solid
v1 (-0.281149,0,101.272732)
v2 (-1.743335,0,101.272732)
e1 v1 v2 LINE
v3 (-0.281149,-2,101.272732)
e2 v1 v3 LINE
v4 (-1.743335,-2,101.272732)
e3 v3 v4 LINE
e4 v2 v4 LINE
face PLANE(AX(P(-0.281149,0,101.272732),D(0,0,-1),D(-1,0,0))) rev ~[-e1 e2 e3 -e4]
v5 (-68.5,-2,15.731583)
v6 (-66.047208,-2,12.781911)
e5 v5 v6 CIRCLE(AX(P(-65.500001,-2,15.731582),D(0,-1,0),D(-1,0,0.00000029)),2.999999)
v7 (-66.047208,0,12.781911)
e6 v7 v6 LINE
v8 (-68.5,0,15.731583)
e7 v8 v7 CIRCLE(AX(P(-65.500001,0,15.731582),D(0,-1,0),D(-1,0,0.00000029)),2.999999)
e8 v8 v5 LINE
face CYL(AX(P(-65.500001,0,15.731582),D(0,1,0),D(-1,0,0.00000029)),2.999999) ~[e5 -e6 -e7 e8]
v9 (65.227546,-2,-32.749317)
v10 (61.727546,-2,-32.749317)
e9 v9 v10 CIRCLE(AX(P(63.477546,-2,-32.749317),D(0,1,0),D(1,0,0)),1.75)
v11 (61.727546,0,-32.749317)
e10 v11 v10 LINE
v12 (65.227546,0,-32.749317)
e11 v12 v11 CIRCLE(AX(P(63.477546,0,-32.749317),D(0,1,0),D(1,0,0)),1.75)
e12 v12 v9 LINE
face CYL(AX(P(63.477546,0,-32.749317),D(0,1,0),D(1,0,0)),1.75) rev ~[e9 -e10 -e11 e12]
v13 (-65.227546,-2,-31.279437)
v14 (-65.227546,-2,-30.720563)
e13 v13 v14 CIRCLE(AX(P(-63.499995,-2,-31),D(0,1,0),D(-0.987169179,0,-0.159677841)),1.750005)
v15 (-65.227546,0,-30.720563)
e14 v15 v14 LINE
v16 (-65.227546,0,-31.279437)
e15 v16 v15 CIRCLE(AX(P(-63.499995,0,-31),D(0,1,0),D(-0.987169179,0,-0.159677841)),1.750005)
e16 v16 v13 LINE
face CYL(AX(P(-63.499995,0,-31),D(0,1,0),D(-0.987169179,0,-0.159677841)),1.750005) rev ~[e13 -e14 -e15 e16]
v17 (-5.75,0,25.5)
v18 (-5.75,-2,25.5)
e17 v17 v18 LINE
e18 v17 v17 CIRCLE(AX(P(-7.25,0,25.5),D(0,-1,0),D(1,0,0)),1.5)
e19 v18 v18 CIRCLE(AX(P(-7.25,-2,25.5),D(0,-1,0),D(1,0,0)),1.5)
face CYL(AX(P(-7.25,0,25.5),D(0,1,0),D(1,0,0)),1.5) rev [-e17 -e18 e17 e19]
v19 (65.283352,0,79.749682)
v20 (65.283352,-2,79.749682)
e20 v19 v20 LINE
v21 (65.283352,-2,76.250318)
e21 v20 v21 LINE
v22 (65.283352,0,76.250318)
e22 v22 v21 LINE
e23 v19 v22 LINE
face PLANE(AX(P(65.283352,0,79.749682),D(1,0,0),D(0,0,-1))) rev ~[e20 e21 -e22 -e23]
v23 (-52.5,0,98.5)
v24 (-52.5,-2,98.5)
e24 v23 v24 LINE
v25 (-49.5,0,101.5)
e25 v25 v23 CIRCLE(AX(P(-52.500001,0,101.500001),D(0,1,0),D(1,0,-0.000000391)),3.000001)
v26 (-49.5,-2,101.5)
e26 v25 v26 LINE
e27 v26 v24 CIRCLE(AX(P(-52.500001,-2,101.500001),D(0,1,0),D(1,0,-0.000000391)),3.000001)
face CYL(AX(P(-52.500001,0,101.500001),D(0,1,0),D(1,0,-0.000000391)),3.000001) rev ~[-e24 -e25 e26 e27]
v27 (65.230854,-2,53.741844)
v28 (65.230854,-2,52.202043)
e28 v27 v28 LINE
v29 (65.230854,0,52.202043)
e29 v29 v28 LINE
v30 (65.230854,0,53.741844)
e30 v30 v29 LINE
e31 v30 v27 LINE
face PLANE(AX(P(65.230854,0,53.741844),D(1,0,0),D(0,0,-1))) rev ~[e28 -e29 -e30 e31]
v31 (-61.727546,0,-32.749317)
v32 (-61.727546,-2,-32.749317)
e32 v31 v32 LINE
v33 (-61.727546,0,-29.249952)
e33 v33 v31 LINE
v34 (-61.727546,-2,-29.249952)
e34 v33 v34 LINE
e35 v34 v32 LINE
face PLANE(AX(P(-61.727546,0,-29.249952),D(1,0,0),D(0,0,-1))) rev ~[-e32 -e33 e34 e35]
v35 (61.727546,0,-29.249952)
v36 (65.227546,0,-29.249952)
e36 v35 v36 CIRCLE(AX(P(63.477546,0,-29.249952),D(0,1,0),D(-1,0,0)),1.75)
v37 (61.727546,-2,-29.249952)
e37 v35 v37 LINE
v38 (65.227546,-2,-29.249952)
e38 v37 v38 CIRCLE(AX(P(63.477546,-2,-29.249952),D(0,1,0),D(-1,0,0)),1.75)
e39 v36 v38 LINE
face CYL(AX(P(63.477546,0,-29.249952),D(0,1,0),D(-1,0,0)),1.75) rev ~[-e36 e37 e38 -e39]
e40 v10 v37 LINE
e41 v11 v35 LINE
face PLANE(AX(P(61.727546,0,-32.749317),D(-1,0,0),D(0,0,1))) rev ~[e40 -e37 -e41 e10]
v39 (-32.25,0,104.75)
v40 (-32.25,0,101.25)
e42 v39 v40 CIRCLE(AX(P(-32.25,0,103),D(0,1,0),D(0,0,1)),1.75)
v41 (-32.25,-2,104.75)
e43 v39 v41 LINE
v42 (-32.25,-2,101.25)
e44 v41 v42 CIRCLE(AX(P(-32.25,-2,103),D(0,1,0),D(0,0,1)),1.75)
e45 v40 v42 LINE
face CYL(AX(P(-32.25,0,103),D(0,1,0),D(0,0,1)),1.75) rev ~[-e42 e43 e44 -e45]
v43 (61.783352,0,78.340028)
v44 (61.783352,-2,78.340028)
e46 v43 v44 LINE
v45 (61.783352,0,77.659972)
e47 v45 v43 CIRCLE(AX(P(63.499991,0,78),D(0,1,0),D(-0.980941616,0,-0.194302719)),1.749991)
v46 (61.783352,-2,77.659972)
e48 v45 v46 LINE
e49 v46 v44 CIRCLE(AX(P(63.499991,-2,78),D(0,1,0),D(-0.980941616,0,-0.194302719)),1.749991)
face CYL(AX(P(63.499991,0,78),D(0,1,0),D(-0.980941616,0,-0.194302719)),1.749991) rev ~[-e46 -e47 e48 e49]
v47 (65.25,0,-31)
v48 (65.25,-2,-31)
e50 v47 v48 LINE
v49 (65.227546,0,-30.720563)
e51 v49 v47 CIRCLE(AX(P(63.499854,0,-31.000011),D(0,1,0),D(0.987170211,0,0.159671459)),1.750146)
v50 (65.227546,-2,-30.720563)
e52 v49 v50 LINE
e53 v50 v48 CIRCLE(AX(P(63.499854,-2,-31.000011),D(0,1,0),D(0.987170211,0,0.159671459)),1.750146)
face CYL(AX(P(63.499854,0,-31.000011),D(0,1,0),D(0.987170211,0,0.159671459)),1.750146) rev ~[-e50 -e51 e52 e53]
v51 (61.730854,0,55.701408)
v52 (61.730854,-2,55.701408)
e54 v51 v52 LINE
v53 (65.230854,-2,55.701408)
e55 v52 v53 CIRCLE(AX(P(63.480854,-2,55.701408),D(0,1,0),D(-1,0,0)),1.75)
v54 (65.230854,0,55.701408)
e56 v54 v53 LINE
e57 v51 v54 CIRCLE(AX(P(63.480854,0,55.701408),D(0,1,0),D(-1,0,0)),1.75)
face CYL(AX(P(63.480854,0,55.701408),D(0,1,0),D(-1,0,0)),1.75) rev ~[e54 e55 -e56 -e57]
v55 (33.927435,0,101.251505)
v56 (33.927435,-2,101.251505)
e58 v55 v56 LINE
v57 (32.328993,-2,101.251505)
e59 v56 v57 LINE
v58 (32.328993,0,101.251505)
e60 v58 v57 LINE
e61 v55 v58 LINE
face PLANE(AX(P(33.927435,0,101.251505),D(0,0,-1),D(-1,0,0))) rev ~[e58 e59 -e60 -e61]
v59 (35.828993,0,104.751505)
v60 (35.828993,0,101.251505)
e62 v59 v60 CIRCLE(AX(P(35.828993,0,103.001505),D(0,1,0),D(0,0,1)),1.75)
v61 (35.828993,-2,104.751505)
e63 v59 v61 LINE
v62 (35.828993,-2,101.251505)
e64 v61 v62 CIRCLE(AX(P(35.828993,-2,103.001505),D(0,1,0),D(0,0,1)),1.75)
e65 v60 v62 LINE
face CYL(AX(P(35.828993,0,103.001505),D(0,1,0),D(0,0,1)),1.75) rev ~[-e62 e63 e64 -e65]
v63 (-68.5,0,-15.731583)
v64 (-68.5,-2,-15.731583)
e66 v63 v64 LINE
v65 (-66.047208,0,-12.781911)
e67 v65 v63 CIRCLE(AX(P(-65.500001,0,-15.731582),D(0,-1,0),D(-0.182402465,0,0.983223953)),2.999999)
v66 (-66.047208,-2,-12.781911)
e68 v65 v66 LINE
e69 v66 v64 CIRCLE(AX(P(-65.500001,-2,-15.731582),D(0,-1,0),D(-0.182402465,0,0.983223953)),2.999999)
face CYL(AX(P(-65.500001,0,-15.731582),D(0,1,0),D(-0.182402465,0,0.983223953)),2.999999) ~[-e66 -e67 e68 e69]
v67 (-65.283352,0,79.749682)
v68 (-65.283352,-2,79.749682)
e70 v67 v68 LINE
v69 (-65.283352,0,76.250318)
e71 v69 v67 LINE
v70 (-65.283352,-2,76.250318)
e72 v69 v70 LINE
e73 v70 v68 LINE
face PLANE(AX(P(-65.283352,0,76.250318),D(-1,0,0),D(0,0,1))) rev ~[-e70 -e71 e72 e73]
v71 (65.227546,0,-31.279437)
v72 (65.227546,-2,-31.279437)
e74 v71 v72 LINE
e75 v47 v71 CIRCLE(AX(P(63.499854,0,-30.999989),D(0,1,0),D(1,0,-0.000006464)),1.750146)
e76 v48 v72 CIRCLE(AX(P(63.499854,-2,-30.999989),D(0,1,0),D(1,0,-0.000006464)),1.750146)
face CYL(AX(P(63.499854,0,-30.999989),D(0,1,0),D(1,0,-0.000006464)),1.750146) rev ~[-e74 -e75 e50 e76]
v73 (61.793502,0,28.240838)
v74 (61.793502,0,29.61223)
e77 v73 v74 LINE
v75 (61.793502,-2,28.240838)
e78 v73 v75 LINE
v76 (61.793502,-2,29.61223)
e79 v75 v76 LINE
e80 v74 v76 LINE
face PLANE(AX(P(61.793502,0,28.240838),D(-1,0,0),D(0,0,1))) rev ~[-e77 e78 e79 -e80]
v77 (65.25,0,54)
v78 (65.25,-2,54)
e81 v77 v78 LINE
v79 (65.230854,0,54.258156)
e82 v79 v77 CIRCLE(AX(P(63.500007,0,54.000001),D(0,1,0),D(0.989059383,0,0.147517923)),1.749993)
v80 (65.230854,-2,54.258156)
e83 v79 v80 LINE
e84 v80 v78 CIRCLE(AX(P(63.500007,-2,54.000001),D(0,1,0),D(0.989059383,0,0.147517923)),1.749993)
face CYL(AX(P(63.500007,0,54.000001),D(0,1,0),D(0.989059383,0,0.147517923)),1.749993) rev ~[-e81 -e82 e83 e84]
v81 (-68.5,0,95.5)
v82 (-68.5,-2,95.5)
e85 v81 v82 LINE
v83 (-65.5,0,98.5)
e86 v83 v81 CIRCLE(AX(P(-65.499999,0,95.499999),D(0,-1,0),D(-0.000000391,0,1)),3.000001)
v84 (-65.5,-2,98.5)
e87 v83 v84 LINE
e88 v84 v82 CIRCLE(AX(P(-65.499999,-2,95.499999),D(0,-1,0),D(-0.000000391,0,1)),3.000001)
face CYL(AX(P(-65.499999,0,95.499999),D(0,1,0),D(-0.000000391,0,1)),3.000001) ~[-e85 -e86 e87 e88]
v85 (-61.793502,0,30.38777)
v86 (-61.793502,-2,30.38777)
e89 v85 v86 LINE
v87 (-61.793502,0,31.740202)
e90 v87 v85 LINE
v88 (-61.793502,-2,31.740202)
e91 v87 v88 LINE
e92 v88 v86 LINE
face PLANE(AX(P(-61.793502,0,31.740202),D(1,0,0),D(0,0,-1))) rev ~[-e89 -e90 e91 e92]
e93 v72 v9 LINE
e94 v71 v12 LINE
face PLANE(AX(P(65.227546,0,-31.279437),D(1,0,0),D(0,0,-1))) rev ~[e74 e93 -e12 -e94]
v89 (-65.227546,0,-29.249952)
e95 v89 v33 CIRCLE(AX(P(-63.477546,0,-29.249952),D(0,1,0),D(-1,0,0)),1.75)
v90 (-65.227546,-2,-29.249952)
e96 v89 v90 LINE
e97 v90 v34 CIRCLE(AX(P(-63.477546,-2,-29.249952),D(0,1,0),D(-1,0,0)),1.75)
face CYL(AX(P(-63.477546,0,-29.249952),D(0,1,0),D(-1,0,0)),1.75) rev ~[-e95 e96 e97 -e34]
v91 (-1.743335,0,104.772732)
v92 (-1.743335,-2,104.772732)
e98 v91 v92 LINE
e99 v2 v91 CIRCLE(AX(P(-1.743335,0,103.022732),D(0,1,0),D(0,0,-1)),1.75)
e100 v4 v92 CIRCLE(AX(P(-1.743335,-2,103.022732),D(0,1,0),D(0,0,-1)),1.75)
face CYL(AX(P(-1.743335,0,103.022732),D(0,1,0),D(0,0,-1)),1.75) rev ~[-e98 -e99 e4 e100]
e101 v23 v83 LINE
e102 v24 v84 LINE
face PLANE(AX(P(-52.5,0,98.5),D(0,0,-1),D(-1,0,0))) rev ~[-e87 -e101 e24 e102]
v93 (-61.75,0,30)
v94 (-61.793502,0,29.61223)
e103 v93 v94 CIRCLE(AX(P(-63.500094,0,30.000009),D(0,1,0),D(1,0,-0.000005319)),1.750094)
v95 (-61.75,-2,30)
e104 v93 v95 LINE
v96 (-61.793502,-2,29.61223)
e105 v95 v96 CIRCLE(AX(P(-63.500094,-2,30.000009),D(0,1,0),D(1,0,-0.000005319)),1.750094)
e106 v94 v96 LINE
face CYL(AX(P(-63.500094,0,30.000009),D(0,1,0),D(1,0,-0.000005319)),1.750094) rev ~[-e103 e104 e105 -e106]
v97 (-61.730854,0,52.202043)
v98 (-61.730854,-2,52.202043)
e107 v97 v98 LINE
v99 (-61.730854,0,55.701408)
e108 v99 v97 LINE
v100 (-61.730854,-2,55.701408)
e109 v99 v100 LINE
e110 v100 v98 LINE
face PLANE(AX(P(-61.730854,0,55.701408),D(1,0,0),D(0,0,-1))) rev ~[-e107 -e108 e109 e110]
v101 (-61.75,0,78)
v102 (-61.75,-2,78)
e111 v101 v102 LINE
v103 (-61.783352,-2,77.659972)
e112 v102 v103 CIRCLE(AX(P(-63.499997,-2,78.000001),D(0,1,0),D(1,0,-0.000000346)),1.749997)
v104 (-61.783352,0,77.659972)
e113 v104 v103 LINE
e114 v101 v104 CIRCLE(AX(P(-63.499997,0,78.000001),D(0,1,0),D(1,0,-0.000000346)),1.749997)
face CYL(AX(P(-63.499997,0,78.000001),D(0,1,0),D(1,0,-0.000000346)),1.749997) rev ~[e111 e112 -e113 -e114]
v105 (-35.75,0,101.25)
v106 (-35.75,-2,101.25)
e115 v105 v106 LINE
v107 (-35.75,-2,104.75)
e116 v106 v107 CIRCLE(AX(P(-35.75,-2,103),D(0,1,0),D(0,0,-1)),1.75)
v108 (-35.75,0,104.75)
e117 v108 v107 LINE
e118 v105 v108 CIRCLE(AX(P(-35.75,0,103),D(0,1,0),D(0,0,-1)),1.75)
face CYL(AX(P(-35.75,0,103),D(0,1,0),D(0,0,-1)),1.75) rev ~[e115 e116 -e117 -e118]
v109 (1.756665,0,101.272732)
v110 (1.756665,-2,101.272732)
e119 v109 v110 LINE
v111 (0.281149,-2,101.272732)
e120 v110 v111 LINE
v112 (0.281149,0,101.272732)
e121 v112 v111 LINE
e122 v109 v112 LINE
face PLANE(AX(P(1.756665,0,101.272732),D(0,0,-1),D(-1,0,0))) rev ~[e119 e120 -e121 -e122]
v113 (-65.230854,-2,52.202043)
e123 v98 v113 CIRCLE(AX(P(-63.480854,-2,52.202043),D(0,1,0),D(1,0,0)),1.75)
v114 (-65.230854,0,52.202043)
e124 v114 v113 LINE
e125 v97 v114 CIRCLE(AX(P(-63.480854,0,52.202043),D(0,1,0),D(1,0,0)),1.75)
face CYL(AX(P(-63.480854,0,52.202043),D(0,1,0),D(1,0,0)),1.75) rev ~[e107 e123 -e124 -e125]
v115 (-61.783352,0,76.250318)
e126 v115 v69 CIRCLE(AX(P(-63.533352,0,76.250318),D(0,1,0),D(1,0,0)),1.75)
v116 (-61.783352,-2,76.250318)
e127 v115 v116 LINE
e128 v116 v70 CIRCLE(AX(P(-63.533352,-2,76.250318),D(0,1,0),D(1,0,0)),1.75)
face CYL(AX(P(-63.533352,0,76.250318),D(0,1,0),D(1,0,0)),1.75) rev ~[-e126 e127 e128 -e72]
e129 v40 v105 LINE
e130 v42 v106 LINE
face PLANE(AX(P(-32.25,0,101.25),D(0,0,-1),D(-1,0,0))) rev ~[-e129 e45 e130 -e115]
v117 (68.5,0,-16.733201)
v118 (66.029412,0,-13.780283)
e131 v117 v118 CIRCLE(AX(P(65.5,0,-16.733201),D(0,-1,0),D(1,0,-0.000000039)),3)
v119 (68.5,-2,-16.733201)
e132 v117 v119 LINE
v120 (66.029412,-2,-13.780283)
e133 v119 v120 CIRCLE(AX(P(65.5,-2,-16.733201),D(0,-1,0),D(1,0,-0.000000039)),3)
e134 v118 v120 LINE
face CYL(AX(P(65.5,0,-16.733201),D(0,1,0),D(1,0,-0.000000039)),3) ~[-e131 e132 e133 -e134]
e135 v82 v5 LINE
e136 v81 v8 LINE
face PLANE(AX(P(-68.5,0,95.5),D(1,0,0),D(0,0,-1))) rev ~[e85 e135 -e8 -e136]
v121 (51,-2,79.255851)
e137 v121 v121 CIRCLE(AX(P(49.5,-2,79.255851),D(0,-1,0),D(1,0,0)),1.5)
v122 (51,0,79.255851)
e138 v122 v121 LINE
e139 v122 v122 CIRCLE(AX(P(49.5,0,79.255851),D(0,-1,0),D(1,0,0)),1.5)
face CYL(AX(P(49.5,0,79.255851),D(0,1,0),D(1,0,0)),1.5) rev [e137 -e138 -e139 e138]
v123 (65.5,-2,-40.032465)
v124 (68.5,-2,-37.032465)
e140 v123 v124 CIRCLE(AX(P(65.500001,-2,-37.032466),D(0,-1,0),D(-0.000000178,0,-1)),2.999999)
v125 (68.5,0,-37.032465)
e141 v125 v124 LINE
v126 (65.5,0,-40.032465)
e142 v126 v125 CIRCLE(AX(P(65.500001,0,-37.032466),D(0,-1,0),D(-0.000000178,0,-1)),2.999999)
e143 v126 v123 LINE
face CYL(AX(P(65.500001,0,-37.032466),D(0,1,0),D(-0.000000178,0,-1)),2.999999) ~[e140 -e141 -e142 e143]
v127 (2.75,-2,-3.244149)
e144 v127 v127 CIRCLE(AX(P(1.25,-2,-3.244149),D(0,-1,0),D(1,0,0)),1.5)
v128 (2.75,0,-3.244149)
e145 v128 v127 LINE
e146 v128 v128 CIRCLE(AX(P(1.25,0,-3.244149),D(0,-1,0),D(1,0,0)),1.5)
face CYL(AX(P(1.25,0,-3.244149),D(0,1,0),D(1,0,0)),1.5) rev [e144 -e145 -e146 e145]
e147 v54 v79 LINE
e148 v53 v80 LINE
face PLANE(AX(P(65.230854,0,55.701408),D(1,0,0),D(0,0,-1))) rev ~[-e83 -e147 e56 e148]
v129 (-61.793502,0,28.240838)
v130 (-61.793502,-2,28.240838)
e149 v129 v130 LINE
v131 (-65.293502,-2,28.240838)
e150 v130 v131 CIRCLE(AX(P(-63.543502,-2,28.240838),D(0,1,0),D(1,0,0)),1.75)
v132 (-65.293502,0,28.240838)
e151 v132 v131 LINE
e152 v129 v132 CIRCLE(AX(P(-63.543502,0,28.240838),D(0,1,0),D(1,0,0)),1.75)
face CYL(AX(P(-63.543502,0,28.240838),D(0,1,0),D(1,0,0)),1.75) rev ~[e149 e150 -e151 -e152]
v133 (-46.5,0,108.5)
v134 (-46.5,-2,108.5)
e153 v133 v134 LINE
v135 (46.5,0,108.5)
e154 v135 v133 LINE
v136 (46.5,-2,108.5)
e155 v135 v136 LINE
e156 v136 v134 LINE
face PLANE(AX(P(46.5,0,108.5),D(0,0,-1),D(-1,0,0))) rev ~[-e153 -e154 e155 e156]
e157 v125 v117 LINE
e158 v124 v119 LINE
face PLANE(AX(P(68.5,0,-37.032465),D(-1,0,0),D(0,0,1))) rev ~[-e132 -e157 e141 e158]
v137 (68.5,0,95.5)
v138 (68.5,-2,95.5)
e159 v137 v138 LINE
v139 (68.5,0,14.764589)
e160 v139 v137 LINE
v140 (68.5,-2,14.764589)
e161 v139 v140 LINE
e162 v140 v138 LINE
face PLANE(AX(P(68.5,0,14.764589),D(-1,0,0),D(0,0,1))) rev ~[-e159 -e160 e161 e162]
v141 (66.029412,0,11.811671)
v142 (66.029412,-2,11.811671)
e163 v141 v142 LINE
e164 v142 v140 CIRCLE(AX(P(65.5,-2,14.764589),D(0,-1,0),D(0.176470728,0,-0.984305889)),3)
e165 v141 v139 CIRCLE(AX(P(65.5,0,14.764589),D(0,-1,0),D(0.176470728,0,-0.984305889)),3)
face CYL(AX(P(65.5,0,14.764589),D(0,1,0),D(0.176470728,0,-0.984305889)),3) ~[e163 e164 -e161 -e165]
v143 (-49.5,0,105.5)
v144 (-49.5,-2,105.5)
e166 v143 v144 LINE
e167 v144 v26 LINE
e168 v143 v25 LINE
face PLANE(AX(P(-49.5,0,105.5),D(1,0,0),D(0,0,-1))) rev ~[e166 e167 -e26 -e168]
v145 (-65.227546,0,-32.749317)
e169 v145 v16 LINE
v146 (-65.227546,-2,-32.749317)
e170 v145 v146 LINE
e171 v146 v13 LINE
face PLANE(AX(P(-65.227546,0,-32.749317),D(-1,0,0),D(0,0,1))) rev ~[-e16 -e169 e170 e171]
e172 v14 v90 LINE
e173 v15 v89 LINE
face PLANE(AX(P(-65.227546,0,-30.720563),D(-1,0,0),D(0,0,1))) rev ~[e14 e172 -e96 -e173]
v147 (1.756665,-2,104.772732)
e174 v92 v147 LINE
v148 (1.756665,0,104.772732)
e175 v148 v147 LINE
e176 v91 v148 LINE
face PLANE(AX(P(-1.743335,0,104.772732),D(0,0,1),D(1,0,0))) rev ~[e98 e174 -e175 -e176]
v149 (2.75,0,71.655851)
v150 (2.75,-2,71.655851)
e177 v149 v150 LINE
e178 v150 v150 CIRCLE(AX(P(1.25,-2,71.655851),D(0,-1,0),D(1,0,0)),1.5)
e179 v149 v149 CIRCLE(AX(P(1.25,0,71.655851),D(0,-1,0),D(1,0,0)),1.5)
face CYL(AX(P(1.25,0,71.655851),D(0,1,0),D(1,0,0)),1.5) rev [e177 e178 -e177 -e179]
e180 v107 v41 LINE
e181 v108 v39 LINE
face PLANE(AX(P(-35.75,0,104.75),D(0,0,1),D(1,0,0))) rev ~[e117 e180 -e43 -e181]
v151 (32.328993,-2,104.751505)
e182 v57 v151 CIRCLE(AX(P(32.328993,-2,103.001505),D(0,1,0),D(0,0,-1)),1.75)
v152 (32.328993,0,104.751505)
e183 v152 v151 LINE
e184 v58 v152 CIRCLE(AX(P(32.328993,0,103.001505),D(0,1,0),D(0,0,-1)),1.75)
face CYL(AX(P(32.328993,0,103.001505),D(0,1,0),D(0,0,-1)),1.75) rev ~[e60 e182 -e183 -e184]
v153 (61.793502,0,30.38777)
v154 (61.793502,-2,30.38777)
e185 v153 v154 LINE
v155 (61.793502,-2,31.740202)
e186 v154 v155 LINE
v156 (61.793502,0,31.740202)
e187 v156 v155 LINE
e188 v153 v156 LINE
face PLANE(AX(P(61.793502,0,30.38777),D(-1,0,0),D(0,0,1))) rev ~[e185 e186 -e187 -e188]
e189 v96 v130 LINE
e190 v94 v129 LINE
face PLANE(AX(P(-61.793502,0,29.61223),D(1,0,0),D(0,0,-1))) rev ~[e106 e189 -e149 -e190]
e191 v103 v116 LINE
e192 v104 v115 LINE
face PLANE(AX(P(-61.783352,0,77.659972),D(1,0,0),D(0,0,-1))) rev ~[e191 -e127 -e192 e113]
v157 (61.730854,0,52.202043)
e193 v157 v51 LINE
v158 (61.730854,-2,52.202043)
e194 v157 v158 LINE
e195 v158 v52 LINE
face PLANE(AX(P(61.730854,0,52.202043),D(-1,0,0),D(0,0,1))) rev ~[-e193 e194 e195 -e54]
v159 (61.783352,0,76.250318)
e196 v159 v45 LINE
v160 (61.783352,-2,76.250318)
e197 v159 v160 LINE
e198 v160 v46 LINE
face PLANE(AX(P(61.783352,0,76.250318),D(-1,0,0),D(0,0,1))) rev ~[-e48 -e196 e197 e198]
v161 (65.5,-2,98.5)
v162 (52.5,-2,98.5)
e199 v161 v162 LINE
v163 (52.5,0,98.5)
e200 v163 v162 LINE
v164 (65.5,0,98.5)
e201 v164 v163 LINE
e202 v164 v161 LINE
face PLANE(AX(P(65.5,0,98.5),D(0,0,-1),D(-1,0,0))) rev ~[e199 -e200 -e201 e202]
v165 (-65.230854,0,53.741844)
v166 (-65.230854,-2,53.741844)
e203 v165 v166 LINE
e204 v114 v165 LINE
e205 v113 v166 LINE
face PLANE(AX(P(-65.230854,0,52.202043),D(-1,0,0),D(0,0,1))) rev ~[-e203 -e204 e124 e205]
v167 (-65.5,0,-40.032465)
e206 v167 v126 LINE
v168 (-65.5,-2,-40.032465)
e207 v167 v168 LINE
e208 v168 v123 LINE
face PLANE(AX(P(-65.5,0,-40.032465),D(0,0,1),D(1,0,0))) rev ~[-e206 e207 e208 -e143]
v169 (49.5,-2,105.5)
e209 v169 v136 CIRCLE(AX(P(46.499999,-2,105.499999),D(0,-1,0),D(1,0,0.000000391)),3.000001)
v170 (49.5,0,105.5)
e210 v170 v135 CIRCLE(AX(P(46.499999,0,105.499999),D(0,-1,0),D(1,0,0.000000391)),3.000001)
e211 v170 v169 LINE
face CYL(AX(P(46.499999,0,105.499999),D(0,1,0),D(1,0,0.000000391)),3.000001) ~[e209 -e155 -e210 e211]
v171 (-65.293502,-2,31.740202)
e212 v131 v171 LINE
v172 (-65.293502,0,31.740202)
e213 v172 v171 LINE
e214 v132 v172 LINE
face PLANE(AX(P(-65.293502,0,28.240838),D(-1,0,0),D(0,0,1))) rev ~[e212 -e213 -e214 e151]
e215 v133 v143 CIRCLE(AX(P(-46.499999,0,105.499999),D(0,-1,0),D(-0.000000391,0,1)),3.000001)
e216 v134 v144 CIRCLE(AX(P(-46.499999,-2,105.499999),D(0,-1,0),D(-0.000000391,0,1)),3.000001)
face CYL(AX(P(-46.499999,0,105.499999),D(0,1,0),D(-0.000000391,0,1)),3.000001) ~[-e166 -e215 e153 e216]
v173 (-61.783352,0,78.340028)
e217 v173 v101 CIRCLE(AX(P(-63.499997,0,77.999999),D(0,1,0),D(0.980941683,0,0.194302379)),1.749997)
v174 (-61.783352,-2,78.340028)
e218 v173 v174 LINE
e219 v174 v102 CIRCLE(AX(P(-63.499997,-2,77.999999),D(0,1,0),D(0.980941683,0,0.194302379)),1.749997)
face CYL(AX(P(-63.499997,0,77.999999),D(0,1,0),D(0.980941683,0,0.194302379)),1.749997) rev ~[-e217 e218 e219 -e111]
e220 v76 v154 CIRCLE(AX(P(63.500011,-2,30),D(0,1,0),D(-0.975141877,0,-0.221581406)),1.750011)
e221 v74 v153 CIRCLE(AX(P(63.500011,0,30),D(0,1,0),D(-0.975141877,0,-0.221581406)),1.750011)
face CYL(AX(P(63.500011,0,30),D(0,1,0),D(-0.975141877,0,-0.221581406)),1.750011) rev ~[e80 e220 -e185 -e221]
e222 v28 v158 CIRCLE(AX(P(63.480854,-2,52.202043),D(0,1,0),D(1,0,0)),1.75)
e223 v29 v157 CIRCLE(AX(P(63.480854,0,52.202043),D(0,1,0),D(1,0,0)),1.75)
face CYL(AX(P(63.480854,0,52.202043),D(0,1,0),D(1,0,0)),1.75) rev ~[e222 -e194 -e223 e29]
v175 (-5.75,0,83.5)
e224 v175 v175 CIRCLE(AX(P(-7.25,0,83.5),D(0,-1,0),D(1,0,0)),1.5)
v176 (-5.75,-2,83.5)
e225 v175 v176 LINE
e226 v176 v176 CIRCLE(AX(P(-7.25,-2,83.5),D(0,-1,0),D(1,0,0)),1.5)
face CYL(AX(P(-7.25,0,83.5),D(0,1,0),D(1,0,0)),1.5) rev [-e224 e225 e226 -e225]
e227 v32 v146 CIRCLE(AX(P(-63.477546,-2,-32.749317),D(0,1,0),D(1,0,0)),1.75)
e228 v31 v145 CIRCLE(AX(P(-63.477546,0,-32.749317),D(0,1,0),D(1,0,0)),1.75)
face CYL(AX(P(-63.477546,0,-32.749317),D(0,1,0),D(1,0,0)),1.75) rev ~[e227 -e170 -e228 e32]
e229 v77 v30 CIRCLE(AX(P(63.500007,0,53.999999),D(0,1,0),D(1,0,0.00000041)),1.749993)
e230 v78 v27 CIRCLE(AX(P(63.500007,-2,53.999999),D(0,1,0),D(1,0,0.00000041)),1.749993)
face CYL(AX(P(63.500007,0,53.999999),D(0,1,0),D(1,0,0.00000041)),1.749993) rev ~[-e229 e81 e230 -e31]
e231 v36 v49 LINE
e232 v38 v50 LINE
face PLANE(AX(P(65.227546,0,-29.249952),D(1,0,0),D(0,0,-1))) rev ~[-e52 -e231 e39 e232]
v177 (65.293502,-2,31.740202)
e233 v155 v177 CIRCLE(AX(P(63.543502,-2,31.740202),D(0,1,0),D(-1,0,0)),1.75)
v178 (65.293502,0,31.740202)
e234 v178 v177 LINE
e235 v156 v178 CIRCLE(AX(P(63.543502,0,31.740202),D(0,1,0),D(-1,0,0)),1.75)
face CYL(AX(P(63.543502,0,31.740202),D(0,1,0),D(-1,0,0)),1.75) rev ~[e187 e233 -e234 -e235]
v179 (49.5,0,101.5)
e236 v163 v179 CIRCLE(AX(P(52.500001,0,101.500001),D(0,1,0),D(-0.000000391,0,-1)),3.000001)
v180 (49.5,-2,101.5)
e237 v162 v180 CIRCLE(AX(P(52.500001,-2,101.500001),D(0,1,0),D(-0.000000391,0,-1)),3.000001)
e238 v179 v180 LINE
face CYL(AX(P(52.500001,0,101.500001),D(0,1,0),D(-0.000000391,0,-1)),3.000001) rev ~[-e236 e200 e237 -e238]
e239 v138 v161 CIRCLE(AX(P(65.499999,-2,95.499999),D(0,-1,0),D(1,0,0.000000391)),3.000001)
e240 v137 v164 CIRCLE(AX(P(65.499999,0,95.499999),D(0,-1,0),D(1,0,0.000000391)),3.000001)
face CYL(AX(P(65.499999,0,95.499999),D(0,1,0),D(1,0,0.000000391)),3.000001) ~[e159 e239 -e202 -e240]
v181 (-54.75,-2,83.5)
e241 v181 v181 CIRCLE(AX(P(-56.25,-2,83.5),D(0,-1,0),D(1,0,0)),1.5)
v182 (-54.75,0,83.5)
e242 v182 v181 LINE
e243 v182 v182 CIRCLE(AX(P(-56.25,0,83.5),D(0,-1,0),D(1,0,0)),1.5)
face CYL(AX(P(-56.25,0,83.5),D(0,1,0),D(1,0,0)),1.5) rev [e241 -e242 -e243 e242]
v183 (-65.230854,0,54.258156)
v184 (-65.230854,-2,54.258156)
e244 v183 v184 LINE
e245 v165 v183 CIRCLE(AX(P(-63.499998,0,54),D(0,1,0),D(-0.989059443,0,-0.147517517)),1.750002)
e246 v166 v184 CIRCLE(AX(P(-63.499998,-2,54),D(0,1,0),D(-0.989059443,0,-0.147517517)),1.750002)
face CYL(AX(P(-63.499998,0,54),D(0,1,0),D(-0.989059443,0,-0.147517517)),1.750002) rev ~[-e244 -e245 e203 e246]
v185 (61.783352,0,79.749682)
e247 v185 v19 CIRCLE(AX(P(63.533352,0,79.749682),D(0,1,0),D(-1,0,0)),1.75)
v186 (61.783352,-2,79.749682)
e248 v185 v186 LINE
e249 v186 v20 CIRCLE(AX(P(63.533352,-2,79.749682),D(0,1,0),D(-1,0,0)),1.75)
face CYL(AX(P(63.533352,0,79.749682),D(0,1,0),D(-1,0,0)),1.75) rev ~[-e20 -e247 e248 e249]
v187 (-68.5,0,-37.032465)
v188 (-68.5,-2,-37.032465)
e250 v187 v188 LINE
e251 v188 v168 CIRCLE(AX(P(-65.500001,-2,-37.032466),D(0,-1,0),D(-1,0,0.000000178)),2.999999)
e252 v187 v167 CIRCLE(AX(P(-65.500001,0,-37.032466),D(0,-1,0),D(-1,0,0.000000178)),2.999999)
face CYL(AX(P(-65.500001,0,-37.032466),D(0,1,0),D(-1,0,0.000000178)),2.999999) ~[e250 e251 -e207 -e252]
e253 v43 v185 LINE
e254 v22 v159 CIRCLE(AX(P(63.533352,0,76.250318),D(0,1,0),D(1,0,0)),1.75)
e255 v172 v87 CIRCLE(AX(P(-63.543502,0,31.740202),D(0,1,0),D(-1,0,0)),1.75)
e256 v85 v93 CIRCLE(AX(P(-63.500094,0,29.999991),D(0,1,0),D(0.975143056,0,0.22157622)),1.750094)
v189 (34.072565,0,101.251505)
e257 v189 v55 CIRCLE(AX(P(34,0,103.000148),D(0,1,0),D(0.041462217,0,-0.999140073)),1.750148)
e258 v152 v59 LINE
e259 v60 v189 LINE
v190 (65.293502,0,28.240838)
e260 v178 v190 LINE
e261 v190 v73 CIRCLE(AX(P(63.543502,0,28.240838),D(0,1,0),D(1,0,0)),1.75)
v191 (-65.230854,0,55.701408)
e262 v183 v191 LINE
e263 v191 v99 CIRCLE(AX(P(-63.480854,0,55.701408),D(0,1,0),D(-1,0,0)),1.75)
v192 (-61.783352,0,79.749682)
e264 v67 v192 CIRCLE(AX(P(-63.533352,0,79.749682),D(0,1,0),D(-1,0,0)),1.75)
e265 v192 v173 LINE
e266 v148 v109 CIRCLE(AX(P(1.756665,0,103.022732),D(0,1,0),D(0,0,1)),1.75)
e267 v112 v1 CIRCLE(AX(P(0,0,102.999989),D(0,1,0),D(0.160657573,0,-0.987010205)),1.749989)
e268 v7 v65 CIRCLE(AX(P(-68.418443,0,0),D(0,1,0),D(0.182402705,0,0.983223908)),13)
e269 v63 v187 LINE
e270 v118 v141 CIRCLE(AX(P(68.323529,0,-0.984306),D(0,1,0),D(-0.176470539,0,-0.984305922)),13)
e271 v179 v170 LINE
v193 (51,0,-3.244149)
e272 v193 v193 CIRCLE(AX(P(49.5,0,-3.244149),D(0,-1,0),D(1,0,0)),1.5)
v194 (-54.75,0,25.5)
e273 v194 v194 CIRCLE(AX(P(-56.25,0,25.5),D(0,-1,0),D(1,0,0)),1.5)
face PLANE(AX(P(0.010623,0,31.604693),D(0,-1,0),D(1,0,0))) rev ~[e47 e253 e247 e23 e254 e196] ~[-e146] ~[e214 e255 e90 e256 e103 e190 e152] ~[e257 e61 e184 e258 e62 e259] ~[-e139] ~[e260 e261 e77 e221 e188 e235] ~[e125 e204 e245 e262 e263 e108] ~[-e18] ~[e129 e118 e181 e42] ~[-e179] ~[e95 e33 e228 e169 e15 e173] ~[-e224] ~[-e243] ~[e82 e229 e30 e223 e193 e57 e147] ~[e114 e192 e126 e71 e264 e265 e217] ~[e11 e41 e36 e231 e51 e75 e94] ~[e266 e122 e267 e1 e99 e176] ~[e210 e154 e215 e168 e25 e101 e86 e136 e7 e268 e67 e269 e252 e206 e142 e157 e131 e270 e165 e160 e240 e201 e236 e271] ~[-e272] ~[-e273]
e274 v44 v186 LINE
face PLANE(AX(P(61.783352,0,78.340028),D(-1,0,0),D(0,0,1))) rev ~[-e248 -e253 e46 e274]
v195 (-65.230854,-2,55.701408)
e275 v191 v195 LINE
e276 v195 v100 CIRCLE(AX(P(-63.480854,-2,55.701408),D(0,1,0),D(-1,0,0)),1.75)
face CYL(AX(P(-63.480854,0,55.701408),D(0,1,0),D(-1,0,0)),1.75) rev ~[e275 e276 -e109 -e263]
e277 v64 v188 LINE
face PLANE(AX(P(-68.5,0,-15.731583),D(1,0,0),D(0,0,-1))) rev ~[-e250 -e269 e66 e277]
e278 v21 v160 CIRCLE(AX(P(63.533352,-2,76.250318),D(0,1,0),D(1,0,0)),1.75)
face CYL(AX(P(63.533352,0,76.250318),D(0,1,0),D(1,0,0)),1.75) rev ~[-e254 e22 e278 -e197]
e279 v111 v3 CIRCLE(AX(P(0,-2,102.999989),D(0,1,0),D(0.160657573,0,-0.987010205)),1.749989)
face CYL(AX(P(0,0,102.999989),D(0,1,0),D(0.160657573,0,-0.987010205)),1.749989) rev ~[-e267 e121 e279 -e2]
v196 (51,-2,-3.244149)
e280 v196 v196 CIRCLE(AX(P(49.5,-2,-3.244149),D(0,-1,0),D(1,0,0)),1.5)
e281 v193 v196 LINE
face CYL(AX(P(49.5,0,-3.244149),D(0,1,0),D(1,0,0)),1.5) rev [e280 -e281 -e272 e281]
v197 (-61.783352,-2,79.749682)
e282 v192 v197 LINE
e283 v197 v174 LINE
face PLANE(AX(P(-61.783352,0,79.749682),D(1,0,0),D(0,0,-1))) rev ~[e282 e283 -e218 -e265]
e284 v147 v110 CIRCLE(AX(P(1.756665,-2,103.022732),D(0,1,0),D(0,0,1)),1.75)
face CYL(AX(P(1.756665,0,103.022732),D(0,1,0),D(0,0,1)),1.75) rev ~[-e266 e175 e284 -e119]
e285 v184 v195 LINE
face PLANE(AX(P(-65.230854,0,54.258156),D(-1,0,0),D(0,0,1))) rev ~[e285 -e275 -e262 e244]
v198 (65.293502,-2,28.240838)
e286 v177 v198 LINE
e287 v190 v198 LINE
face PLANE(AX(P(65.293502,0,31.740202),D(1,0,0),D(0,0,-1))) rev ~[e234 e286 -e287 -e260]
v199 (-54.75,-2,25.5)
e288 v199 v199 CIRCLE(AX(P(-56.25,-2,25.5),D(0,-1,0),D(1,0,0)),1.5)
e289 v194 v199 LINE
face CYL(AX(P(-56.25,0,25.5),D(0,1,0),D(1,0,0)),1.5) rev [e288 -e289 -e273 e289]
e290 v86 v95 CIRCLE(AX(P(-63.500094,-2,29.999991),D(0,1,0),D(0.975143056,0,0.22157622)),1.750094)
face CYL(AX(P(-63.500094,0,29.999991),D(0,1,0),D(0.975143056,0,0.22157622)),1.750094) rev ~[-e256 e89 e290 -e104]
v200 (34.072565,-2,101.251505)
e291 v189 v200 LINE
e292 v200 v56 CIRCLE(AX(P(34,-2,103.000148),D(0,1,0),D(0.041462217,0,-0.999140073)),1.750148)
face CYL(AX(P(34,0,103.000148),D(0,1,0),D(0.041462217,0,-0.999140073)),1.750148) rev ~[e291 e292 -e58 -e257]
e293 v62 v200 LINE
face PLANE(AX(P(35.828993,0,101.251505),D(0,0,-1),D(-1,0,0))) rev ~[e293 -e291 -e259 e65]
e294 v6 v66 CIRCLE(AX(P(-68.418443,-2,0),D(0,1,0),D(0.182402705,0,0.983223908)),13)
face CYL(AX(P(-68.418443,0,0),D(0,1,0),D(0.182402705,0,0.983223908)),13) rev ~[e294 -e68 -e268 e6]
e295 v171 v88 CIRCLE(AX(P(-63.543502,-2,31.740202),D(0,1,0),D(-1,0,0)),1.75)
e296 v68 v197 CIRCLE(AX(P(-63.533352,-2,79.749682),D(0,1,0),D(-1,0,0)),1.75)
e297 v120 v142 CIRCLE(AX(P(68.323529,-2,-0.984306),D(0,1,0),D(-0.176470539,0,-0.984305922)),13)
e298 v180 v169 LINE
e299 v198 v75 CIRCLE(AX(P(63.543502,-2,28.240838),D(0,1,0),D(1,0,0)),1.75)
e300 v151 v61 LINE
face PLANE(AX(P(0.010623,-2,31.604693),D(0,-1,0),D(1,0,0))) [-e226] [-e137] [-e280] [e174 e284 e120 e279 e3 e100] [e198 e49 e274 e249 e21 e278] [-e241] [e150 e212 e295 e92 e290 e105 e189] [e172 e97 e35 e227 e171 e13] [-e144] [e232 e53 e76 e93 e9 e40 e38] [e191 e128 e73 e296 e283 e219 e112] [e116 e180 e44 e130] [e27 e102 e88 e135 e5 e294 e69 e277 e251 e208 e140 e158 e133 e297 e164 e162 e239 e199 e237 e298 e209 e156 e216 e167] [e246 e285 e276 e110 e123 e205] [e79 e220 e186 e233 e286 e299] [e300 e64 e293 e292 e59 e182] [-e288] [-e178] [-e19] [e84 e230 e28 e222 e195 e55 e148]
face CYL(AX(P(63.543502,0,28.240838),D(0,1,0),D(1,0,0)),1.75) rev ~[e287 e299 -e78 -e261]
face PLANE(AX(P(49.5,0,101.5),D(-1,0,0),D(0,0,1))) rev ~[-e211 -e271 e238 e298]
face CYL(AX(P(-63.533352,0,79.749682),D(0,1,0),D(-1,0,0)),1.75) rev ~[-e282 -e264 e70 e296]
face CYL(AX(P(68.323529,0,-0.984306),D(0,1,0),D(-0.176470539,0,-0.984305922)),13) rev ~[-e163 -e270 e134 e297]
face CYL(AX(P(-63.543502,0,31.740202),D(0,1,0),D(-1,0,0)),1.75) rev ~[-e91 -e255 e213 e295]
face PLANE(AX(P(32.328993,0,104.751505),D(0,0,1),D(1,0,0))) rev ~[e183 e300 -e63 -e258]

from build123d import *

# Parameters (mm, degrees)
F0_R     = 1.5
F1_DEPTH = 2


with BuildPart() as f1:
    # F0 (on Front) → F1 (new body)
    with BuildSketch(Plane.XZ):
        with BuildLine():
            ThreePointArc((-46.5, 108.5), (-48.62132, 107.62132), (-49.5, 105.5))
            Line((-49.5, 105.5), (-49.5, 101.5))
            ThreePointArc((-49.5, 101.5), (-50.37868, 99.37868), (-52.5, 98.5))
            Line((-52.5, 98.5), (-65.5, 98.5))
            ThreePointArc((-65.5, 98.5), (-67.62132, 97.62132), (-68.5, 95.5))
            Line((-68.5, 95.5), (-68.5, 15.731583))
            ThreePointArc((-68.5, 15.731583), (-67.806689, 13.813462), (-66.047208, 12.781911))
            ThreePointArc((-66.047208, 12.781911), (-55.418443, 0), (-66.047208, -12.781911))
            ThreePointArc((-66.047208, -12.781911), (-67.806689, -13.813462), (-68.5, -15.731583))
            Line((-68.5, -15.731583), (-68.5, -37.032465))
            ThreePointArc((-68.5, -37.032465), (-67.62132, -39.153786), (-65.5, -40.032465))
            Line((-65.5, -40.032465), (65.5, -40.032465))
            ThreePointArc((65.5, -40.032465), (67.62132, -39.153786), (68.5, -37.032465))
            Line((68.5, -37.032465), (68.5, -16.733201))
            ThreePointArc((68.5, -16.733201), (67.800895, -14.808134), (66.029412, -13.780283))
            ThreePointArc((66.029412, -13.780283), (55.323529, -0.984306), (66.029412, 11.811671))
            ThreePointArc((66.029412, 11.811671), (67.800895, 12.839522), (68.5, 14.764589))
            Line((68.5, 14.764589), (68.5, 95.5))
            ThreePointArc((68.5, 95.5), (67.62132, 97.62132), (65.5, 98.5))
            Line((65.5, 98.5), (52.5, 98.5))
            ThreePointArc((52.5, 98.5), (50.37868, 99.37868), (49.5, 101.5))
            Line((49.5, 101.5), (49.5, 105.5))
            ThreePointArc((49.5, 105.5), (48.62132, 107.62132), (46.5, 108.5))
            Line((46.5, 108.5), (0, 108.5))
            Line((0, 108.5), (-46.5, 108.5))
        make_face()
        with BuildLine():
            ThreePointArc((-65.227546, -31.279437), (-65.25, -31), (-65.227546, -30.720563))
            Line((-65.227546, -30.720563), (-65.227546, -29.249952))
            ThreePointArc((-65.227546, -29.249952), (-63.477546, -27.499952), (-61.727546, -29.249952))
            Line((-61.727546, -29.249952), (-61.727546, -32.749317))
            ThreePointArc((-61.727546, -32.749317), (-63.477546, -34.499317), (-65.227546, -32.749317))
            Line((-65.227546, -32.749317), (-65.227546, -31.279437))
        make_face(mode=Mode.SUBTRACT)
        with BuildLine():
            ThreePointArc((-61.793502, 30.38777), (-61.76091, 30.195101), (-61.75, 30))
            ThreePointArc((-61.75, 30), (-61.76091, 29.804899), (-61.793502, 29.61223))
            Line((-61.793502, 29.61223), (-61.793502, 28.240838))
            ThreePointArc((-61.793502, 28.240838), (-63.543502, 26.490838), (-65.293502, 28.240838))
            Line((-65.293502, 28.240838), (-65.293502, 31.740202))
            ThreePointArc((-65.293502, 31.740202), (-63.543502, 33.490202), (-61.793502, 31.740202))
            Line((-61.793502, 31.740202), (-61.793502, 30.38777))
        make_face(mode=Mode.SUBTRACT)
        with Locations((-56.25, 25.5)):
            Circle(F0_R, mode=Mode.SUBTRACT)
        with Locations((-7.25, 25.5)):
            Circle(F0_R, mode=Mode.SUBTRACT)
        with Locations((1.25, -3.244149)):
            Circle(F0_R, mode=Mode.SUBTRACT)
        with BuildLine():
            ThreePointArc((65.227546, -30.720563), (65.244377, -30.859831), (65.25, -31))
            ThreePointArc((65.25, -31), (65.244377, -31.140169), (65.227546, -31.279437))
            Line((65.227546, -31.279437), (65.227546, -32.749317))
            ThreePointArc((65.227546, -32.749317), (63.477546, -34.499317), (61.727546, -32.749317))
            Line((61.727546, -32.749317), (61.727546, -29.249952))
            ThreePointArc((61.727546, -29.249952), (63.477546, -27.499952), (65.227546, -29.249952))
            Line((65.227546, -29.249952), (65.227546, -30.720563))
        make_face(mode=Mode.SUBTRACT)
        with Locations((49.5, -3.244149)):
            Circle(F0_R, mode=Mode.SUBTRACT)
        with BuildLine():
            ThreePointArc((61.793502, 29.61223), (61.75, 30), (61.793502, 30.38777))
            Line((61.793502, 30.38777), (61.793502, 31.740202))
            ThreePointArc((61.793502, 31.740202), (63.543502, 33.490202), (65.293502, 31.740202))
            Line((65.293502, 31.740202), (65.293502, 28.240838))
            ThreePointArc((65.293502, 28.240838), (63.543502, 26.490838), (61.793502, 28.240838))
            Line((61.793502, 28.240838), (61.793502, 29.61223))
        make_face(mode=Mode.SUBTRACT)
        with BuildLine():
            ThreePointArc((-65.230854, 53.741844), (-65.25, 54), (-65.230854, 54.258156))
            Line((-65.230854, 54.258156), (-65.230854, 55.701408))
            ThreePointArc((-65.230854, 55.701408), (-63.480854, 57.451408), (-61.730854, 55.701408))
            Line((-61.730854, 55.701408), (-61.730854, 52.202043))
            ThreePointArc((-61.730854, 52.202043), (-63.480854, 50.452043), (-65.230854, 52.202043))
            Line((-65.230854, 52.202043), (-65.230854, 53.741844))
        make_face(mode=Mode.SUBTRACT)
        with BuildLine():
            Line((-61.783352, 79.749682), (-61.783352, 78.340028))
            ThreePointArc((-61.783352, 78.340028), (-61.758358, 78.17083), (-61.75, 78))
            ThreePointArc((-61.75, 78), (-61.758358, 77.82917), (-61.783352, 77.659972))
            Line((-61.783352, 77.659972), (-61.783352, 76.250318))
            ThreePointArc((-61.783352, 76.250318), (-63.533352, 74.500318), (-65.283352, 76.250318))
            Line((-65.283352, 76.250318), (-65.283352, 79.749682))
            ThreePointArc((-65.283352, 79.749682), (-63.533352, 81.499682), (-61.783352, 79.749682))
        make_face(mode=Mode.SUBTRACT)
        with Locations((-56.25, 83.5)):
            Circle(F0_R, mode=Mode.SUBTRACT)
        with Locations((-7.25, 83.5)):
            Circle(F0_R, mode=Mode.SUBTRACT)
        with BuildLine():
            Line((-35.75, 104.75), (-34, 104.75))
            Line((-34, 104.75), (-32.25, 104.75))
            ThreePointArc((-32.25, 104.75), (-30.5, 103), (-32.25, 101.25))
            Line((-32.25, 101.25), (-34, 101.25))
            Line((-34, 101.25), (-35.75, 101.25))
            ThreePointArc((-35.75, 101.25), (-37.5, 103), (-35.75, 104.75))
        make_face(mode=Mode.SUBTRACT)
        with BuildLine():
            ThreePointArc((65.230854, 54.258156), (65.245207, 54.129432), (65.25, 54))
            ThreePointArc((65.25, 54), (65.245207, 53.870568), (65.230854, 53.741844))
            Line((65.230854, 53.741844), (65.230854, 52.202043))
            ThreePointArc((65.230854, 52.202043), (63.480854, 50.452043), (61.730854, 52.202043))
            Line((61.730854, 52.202043), (61.730854, 55.701408))
            ThreePointArc((61.730854, 55.701408), (63.480854, 57.451408), (65.230854, 55.701408))
            Line((65.230854, 55.701408), (65.230854, 54.258156))
        make_face(mode=Mode.SUBTRACT)
        with Locations((1.25, 71.655851)):
            Circle(F0_R, mode=Mode.SUBTRACT)
        with BuildLine():
            ThreePointArc((0.281149, 101.272732), (0, 101.25), (-0.281149, 101.272732))
            Line((-0.281149, 101.272732), (-1.743335, 101.272732))
            ThreePointArc((-1.743335, 101.272732), (-3.493335, 103.022732), (-1.743335, 104.772732))
            Line((-1.743335, 104.772732), (1.756665, 104.772732))
            ThreePointArc((1.756665, 104.772732), (3.506665, 103.022732), (1.756665, 101.272732))
            Line((1.756665, 101.272732), (0.281149, 101.272732))
        make_face(mode=Mode.SUBTRACT)
        with BuildLine():
            ThreePointArc((34.072565, 101.251505), (34, 101.25), (33.927435, 101.251505))
            Line((33.927435, 101.251505), (32.328993, 101.251505))
            ThreePointArc((32.328993, 101.251505), (30.578993, 103.001505), (32.328993, 104.751505))
            Line((32.328993, 104.751505), (35.828993, 104.751505))
            ThreePointArc((35.828993, 104.751505), (37.578993, 103.001505), (35.828993, 101.251505))
            Line((35.828993, 101.251505), (34.072565, 101.251505))
        make_face(mode=Mode.SUBTRACT)
        with Locations((49.5, 79.255851)):
            Circle(F0_R, mode=Mode.SUBTRACT)
        with BuildLine():
            ThreePointArc((61.783352, 77.659972), (61.75, 78), (61.783352, 78.340028))
            Line((61.783352, 78.340028), (61.783352, 79.749682))
            ThreePointArc((61.783352, 79.749682), (63.533352, 81.499682), (65.283352, 79.749682))
            Line((65.283352, 79.749682), (65.283352, 76.250318))
            ThreePointArc((65.283352, 76.250318), (63.533352, 74.500318), (61.783352, 76.250318))
            Line((61.783352, 76.250318), (61.783352, 77.659972))
        make_face(mode=Mode.SUBTRACT)
    extrude(amount=F1_DEPTH)


solid = f1.part
